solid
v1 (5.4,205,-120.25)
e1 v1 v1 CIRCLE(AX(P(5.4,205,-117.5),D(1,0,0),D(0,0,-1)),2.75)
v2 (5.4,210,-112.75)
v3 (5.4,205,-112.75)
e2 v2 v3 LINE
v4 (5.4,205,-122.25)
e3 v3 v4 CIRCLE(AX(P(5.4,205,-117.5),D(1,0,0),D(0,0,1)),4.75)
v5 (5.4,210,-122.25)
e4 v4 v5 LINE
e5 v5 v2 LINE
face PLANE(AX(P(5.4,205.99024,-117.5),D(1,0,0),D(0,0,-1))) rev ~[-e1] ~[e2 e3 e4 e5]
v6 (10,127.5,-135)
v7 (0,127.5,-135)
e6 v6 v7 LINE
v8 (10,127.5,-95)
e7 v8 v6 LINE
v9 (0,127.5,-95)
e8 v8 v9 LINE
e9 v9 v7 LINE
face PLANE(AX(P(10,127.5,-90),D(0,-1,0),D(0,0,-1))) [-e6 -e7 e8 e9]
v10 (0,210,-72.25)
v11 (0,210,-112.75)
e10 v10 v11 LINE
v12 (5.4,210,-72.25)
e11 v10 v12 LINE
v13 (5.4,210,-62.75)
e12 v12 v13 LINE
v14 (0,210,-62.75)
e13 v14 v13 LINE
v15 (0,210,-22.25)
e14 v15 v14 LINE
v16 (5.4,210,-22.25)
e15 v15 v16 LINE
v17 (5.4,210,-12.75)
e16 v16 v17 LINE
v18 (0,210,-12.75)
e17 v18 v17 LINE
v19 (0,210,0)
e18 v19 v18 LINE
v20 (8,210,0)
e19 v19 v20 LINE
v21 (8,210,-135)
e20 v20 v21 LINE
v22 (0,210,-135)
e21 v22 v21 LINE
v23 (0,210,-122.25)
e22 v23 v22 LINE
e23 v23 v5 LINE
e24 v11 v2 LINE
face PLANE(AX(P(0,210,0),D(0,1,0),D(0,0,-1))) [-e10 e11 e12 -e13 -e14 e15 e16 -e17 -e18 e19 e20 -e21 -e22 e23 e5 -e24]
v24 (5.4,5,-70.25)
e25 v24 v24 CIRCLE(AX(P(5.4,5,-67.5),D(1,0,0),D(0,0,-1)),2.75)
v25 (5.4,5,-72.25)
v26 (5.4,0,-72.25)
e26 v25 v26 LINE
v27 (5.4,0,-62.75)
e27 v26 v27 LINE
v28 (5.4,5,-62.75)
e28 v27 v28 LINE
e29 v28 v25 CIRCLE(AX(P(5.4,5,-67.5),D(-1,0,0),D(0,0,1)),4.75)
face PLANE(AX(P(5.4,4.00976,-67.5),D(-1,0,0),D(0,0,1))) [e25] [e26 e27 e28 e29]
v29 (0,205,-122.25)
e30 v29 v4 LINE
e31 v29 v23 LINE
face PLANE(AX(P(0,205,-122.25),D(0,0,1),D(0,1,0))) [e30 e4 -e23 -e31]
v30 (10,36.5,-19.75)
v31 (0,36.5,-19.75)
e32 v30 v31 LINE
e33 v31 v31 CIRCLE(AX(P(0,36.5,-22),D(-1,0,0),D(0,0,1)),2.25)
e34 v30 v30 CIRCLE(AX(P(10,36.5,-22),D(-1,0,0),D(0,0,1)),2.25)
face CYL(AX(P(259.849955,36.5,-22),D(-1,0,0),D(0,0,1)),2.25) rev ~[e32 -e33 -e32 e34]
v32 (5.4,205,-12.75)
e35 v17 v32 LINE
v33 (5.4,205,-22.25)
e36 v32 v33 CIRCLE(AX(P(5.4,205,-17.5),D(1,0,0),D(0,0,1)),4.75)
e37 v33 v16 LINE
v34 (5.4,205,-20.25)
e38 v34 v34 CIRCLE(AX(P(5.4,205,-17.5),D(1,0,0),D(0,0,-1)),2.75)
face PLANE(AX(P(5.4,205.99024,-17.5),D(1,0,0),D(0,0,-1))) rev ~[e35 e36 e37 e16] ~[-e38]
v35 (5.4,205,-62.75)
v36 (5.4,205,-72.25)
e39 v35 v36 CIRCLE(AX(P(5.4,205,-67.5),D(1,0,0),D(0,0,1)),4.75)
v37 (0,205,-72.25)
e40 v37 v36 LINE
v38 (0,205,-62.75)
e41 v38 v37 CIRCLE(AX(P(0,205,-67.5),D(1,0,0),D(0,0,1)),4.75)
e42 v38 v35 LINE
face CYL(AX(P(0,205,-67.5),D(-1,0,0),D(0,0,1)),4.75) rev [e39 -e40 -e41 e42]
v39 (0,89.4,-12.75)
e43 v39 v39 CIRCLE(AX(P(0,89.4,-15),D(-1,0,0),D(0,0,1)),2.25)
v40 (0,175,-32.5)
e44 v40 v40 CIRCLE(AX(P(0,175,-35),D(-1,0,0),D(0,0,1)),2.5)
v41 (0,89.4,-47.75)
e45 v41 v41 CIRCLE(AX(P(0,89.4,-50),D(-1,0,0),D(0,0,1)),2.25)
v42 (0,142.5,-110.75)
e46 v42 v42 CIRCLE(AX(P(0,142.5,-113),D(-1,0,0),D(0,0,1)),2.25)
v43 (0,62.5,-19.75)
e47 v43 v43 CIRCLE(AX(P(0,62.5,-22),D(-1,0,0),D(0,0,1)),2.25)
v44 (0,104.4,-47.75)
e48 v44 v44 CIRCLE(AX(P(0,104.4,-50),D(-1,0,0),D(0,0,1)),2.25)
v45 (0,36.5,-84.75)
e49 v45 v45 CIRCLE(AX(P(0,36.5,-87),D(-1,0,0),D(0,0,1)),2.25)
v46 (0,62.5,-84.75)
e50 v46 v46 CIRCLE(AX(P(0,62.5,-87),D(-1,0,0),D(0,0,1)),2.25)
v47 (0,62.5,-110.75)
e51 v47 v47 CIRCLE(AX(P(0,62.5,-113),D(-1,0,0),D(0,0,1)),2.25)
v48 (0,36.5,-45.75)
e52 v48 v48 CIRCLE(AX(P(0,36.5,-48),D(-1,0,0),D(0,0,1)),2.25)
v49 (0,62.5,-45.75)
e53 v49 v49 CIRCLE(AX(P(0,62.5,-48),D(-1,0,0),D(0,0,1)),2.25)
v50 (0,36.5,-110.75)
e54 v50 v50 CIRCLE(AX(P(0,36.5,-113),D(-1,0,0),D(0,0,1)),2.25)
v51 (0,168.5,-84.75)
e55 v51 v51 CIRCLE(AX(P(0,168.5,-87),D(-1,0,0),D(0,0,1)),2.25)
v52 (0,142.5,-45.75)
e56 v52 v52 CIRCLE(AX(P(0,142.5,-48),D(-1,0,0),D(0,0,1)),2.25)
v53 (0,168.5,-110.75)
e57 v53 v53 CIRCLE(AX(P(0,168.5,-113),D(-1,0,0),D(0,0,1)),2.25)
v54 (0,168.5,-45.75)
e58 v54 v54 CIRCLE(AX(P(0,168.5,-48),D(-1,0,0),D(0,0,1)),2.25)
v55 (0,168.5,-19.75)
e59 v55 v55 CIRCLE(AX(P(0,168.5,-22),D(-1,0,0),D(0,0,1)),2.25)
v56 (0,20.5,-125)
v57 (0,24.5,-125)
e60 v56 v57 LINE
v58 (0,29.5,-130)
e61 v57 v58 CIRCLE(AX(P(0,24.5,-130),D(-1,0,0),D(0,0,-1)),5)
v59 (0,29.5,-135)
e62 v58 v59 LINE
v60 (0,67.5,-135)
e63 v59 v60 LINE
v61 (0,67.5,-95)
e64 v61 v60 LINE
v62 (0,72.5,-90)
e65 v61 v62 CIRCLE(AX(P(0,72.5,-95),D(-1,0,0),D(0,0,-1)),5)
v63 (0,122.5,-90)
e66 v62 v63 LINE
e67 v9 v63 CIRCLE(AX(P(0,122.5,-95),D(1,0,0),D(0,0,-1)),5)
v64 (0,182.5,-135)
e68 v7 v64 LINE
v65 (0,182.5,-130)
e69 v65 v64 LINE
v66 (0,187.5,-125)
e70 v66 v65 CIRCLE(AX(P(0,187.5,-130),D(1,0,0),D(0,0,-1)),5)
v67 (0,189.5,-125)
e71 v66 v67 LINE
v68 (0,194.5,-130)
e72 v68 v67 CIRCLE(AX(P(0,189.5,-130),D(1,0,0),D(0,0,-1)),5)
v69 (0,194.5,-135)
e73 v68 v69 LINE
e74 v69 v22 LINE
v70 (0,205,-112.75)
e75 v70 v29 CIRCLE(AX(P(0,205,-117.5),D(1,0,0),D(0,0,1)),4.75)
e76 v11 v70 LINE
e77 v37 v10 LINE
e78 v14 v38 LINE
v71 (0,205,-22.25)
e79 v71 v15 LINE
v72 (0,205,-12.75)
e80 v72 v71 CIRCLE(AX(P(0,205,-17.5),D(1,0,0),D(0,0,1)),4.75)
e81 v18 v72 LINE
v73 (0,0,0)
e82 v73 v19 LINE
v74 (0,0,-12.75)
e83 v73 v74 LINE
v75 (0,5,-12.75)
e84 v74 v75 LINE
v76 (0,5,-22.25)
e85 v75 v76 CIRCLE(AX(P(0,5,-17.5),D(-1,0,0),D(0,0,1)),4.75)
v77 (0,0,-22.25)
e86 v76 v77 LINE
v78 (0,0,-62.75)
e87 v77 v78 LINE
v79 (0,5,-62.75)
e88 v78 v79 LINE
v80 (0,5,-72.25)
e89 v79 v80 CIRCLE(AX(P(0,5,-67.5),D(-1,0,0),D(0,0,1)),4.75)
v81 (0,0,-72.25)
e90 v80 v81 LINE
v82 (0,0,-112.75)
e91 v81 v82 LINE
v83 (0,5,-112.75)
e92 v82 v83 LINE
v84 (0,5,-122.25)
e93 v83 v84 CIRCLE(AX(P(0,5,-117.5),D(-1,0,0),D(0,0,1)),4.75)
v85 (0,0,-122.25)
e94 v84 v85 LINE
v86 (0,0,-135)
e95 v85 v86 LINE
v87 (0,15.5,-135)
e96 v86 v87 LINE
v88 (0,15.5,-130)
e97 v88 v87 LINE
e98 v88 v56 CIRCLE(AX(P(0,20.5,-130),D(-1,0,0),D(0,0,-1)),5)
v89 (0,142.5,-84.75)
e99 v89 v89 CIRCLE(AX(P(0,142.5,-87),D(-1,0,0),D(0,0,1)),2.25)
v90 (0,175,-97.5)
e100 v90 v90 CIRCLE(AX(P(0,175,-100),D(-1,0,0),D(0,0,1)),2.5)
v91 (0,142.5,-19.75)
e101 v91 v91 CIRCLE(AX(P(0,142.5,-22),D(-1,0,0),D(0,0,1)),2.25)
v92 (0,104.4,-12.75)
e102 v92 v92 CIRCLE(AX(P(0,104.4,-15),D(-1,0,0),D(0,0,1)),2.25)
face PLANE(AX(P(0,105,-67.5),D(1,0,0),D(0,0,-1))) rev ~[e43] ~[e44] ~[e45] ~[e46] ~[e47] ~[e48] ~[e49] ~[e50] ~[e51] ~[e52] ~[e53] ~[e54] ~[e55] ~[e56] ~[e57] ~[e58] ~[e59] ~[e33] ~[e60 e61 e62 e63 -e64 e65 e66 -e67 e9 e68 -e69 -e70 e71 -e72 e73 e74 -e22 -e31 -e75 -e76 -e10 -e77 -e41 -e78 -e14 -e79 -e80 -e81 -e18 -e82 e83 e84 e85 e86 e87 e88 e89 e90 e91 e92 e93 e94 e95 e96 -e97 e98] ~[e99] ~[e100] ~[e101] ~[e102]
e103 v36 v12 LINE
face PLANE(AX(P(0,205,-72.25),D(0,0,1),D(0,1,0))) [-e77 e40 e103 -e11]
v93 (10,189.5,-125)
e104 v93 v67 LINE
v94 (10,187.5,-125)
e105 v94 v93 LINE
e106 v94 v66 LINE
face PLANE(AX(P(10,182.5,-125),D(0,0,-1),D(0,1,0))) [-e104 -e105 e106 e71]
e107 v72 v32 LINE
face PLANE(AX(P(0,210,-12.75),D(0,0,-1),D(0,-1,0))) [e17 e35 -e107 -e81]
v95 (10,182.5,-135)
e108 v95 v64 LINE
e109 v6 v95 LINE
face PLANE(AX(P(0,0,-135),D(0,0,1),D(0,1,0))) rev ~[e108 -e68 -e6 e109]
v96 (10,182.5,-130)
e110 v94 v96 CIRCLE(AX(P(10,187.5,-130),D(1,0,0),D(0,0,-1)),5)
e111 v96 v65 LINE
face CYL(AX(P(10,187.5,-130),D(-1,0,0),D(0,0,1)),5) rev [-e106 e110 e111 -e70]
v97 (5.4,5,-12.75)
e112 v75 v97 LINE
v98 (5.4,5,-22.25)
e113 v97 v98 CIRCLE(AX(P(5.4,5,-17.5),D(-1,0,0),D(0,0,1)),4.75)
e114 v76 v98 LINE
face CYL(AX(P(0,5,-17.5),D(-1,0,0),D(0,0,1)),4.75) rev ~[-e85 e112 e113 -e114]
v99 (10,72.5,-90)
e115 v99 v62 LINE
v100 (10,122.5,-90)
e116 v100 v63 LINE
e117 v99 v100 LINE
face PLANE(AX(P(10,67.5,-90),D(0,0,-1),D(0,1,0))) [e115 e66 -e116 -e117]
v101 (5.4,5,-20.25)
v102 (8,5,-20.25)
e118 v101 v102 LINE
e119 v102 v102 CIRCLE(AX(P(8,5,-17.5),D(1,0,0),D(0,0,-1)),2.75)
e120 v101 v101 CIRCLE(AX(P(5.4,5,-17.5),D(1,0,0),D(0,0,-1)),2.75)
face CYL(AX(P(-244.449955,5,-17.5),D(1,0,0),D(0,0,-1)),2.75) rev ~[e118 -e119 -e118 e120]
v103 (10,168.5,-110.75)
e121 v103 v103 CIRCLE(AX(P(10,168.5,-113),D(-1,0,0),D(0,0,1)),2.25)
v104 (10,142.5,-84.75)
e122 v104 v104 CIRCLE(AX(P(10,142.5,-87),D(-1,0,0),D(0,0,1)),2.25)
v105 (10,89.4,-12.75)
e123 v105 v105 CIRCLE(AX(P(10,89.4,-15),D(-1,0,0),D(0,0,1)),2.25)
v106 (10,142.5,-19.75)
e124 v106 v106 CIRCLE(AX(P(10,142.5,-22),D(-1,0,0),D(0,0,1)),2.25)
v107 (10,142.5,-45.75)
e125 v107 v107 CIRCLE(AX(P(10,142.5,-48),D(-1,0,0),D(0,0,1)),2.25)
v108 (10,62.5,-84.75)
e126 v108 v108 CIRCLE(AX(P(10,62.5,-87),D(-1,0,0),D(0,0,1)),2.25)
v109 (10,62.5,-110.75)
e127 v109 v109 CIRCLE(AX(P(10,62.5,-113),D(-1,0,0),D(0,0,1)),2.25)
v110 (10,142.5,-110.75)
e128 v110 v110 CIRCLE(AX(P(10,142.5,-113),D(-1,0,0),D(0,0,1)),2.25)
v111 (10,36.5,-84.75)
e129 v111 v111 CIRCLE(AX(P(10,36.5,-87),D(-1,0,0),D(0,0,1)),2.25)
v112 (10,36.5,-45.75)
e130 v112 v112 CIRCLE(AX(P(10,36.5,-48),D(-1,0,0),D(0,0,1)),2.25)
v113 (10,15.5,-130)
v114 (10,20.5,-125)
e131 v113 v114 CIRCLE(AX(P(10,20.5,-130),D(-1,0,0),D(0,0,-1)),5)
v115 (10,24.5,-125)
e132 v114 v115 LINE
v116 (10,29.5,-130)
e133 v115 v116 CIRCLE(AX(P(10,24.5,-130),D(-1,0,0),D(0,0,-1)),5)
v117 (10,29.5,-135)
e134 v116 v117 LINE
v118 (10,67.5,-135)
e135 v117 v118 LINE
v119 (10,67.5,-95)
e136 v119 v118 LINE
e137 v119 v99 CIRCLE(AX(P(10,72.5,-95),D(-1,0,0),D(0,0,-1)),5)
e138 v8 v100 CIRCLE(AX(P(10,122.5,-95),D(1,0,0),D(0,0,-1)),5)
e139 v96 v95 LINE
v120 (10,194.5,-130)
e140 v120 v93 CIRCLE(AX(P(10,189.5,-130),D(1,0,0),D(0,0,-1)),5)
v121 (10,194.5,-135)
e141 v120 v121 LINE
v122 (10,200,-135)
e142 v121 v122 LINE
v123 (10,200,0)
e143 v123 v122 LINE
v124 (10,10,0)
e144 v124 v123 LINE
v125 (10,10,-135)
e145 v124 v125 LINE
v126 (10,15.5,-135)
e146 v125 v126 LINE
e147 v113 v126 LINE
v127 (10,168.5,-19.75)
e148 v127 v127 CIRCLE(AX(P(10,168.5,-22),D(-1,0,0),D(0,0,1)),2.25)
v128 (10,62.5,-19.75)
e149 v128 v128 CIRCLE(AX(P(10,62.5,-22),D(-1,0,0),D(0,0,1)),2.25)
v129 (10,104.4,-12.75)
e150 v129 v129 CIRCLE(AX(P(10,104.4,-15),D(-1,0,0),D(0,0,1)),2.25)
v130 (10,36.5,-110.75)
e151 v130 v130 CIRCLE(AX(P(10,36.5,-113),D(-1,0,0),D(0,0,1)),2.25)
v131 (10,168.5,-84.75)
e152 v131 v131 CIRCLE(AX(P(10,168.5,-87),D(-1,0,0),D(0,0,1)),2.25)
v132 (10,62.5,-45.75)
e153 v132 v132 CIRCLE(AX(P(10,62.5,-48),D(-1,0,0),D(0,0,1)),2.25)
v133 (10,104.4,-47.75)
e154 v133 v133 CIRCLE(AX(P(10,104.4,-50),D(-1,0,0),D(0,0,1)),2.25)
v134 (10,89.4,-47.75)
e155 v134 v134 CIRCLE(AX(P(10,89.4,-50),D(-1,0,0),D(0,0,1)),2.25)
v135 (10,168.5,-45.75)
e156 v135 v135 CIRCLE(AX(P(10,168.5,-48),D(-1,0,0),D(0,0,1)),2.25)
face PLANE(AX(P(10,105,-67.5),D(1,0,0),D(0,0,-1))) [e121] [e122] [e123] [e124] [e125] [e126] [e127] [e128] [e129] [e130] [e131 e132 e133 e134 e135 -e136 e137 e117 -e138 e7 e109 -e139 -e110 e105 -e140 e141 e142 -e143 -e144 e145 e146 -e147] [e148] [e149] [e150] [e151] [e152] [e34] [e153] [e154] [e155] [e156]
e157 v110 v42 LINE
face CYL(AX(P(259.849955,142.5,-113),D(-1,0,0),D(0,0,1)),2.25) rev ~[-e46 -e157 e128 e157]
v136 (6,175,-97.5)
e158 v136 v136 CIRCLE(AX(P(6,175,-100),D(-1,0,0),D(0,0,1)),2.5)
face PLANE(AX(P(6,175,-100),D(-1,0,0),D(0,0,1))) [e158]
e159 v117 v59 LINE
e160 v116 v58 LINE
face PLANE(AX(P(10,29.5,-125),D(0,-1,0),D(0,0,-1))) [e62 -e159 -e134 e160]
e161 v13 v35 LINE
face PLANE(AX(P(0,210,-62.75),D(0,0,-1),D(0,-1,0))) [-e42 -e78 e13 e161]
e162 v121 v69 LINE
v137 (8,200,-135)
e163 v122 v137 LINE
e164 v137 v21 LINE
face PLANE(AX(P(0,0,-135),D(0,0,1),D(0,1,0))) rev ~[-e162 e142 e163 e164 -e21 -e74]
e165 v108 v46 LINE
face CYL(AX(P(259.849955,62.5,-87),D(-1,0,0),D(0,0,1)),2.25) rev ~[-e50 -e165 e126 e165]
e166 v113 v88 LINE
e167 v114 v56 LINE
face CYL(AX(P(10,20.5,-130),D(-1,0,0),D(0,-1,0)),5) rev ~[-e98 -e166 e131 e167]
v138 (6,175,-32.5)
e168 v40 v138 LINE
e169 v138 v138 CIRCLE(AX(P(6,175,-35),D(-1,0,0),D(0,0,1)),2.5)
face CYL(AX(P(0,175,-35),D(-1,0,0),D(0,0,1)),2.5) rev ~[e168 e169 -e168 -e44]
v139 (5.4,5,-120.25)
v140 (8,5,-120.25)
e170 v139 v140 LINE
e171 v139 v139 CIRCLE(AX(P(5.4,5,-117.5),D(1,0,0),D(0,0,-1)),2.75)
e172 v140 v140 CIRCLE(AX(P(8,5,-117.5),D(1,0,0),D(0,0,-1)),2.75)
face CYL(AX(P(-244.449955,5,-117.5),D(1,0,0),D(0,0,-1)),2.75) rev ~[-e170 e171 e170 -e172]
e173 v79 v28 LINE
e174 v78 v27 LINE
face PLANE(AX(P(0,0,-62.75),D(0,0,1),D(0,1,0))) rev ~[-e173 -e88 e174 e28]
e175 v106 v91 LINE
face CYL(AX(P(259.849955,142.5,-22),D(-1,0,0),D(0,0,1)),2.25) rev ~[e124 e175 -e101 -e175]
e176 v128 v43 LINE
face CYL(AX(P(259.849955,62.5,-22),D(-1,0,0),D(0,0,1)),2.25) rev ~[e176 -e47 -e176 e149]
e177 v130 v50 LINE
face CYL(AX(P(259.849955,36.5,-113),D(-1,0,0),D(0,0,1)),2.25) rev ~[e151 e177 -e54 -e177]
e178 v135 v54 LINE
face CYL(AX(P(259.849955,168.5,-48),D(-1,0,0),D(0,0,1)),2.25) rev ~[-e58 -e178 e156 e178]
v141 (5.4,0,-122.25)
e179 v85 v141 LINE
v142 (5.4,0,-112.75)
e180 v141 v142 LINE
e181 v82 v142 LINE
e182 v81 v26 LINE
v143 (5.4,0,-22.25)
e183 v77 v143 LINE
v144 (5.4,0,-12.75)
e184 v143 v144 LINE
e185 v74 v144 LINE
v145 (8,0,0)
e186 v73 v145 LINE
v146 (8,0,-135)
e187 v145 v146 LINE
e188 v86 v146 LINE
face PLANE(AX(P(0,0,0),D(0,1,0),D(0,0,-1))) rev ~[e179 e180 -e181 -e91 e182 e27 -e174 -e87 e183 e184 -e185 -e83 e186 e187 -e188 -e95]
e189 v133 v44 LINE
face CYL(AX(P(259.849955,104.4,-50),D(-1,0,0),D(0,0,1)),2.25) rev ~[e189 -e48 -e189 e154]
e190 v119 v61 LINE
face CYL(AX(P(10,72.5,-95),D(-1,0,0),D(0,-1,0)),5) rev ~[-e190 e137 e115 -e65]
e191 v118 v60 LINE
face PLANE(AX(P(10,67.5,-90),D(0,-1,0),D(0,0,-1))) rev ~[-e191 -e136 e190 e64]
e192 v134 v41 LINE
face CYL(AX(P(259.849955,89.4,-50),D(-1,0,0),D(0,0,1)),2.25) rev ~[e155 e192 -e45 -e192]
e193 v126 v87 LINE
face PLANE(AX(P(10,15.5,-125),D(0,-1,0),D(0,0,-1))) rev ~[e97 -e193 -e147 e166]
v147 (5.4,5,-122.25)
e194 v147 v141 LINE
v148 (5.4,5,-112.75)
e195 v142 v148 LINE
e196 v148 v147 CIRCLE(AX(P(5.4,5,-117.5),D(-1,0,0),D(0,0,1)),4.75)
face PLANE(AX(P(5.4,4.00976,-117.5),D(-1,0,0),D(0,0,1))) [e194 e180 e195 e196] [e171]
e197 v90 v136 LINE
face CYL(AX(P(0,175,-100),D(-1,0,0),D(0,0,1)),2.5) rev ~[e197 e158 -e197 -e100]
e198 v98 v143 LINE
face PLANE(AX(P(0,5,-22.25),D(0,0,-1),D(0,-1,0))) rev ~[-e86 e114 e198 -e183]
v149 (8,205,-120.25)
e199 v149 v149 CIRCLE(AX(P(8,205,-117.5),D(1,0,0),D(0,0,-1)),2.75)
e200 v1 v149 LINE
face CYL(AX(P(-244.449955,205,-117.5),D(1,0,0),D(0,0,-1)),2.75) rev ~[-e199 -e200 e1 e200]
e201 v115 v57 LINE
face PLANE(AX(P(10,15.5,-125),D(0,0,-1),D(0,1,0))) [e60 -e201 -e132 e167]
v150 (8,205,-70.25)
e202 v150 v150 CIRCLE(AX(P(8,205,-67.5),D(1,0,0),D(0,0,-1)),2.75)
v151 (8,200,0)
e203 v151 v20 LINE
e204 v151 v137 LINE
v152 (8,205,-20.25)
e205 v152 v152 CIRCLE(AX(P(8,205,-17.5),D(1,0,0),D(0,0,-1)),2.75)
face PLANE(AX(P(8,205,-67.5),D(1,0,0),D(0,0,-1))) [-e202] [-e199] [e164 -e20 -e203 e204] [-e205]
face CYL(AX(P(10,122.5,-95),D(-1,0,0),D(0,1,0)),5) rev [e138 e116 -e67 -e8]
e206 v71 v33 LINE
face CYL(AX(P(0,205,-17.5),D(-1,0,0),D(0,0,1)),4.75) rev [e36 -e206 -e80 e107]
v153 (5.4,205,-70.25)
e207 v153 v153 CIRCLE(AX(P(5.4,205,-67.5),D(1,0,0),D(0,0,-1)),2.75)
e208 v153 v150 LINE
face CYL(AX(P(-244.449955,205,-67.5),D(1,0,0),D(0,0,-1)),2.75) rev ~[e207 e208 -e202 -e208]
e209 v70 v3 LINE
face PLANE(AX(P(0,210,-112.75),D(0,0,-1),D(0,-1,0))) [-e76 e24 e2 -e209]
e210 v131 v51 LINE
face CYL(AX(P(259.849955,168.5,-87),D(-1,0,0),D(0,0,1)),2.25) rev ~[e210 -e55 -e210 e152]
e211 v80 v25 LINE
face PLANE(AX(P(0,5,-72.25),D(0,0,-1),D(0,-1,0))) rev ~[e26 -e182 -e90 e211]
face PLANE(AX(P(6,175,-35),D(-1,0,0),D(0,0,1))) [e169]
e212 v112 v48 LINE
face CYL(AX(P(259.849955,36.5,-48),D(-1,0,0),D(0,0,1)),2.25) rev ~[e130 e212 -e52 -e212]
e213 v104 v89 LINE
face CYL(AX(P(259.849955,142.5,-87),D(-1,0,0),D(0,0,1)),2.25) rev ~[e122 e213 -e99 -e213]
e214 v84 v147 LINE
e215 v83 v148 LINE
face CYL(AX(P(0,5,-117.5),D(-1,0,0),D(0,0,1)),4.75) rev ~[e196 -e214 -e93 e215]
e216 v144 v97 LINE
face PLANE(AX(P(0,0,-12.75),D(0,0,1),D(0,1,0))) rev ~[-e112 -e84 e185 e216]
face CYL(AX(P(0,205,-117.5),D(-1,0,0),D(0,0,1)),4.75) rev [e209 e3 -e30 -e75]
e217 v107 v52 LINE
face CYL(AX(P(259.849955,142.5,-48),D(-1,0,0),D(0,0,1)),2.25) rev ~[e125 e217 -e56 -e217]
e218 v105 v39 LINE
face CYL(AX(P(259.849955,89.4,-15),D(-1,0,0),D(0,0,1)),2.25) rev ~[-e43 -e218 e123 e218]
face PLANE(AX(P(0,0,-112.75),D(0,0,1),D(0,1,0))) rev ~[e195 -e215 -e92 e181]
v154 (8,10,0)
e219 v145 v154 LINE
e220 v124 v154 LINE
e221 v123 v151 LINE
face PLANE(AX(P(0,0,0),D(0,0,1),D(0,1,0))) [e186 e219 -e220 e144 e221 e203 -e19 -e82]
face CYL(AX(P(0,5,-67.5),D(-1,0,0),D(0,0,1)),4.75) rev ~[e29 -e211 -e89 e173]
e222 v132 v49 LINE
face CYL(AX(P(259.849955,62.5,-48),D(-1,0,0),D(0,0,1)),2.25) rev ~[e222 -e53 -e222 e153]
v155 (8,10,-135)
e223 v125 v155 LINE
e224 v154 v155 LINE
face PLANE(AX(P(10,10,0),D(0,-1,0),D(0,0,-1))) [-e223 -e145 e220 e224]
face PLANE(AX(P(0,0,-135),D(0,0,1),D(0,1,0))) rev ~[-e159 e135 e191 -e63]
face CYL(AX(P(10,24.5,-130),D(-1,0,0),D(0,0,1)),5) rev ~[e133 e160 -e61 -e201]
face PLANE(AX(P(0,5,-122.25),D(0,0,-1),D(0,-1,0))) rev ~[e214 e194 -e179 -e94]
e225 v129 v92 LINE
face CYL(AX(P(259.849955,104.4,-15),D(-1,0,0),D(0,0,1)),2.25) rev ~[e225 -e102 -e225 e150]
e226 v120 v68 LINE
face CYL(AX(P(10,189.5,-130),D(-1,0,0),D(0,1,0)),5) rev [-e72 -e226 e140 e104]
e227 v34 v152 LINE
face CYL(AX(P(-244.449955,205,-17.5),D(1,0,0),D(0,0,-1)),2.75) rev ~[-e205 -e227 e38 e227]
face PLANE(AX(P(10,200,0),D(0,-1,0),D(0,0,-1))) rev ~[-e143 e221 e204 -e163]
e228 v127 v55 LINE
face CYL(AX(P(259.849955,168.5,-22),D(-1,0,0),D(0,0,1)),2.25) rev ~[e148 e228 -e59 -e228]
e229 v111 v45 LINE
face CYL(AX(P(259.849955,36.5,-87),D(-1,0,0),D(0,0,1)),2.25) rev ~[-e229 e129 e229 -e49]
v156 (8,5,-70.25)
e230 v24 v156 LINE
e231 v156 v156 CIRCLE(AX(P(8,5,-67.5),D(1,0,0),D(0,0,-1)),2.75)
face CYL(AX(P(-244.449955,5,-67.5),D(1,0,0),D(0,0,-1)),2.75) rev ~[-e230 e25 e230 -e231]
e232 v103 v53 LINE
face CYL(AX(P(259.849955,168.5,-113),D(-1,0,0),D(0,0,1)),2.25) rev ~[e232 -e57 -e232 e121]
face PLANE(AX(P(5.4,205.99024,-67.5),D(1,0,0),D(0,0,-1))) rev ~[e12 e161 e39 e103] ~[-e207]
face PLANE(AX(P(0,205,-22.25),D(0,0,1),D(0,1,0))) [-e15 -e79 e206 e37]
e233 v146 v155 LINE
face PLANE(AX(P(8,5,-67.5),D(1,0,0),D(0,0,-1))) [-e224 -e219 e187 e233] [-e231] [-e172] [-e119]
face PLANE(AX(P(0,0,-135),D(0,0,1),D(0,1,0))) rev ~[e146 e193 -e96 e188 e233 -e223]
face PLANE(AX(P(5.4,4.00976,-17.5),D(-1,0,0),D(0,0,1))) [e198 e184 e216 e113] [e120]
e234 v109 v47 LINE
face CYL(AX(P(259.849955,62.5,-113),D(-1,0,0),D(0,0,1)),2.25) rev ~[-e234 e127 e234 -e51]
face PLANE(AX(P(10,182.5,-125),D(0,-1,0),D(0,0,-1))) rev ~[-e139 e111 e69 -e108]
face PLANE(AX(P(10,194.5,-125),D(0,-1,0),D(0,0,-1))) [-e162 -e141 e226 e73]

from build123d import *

# Parameters (mm, degrees)
SKETCH1_W                  = 135
SKETCH1_H                  = 210
BOSS_EXTRUDE1_DEPTH        = 10
SKETCH2_W                  = 45
SKETCH2_H                  = 60
CUT_EXTRUDE1_DEPTH         = 11
SKETCH3_W                  = 10
SKETCH3_H                  = 14
SKETCH3_H_2                = 12
CUT_EXTRUDE2_DEPTH         = 11
SKETCH4_W                  = 135
SKETCH4_H                  = 10
CUT_EXTRUDE3_DEPTH         = 2
SKETCH5_R                  = 2.5
CUT_EXTRUDE4_DEPTH         = 6
CUT_EXTRUDE5_DEPTH         = 5.4
LPATTERN1_COUNT            = 3
LPATTERN1_PITCH            = 50
F_5_5_5_5_DIAMETER_HOLE1_D = 5.5
LPATTERN3_COUNT            = 3
LPATTERN3_PITCH            = 50
F_4_5_4_5_DIAMETER_HOLE1_D = 4.5
F_4_5_4_5_DIAMETER_HOLE2_D = 4.5
LPATTERN2_COUNT            = 2
LPATTERN2_PITCH            = 65
LPATTERN2_COUNT_DIR2       = 2
LPATTERN2_PITCH_DIR2       = 106
FILLET1_R                  = 5


with BuildPart() as part:
    # Sketch1 → Boss-Extrude1 (new body)
    with BuildSketch(Plane(origin=(0, 0, 0), x_dir=(0, 0, -1), z_dir=(1, 0, 0))):
        with Locations((67.5, 105)):
            Rectangle(SKETCH1_W, SKETCH1_H)
    extrude(amount=BOSS_EXTRUDE1_DEPTH)

    # Sketch2 → Cut-Extrude1 (cut, through all)
    with BuildSketch(Plane(origin=(10, 0, 0), x_dir=(0, 0, -1), z_dir=(1, 0, 0))):
        with Locations((112.5, 97.5)):
            Rectangle(SKETCH2_W, SKETCH2_H)
    extrude(amount=-CUT_EXTRUDE1_DEPTH, mode=Mode.SUBTRACT)

    # Sketch3 → Cut-Extrude2 (cut, through all)
    with BuildSketch(Plane(origin=(10, 0, 0), x_dir=(0, 0, -1), z_dir=(1, 0, 0))):
        with Locations((130, 22.5)):
            Rectangle(SKETCH3_W, SKETCH3_H)
        with Locations((130, 188.5)):
            Rectangle(SKETCH3_W, SKETCH3_H_2)
    extrude(amount=-CUT_EXTRUDE2_DEPTH, mode=Mode.SUBTRACT)

    # Sketch4 → Cut-Extrude3 (cut)
    with BuildSketch(Plane(origin=(10, 0, 0), x_dir=(0, 0, -1), z_dir=(1, 0, 0))):
        with Locations((67.5, 5)):
            Rectangle(SKETCH4_W, SKETCH4_H)
        with Locations((67.5, 205)):
            Rectangle(SKETCH4_W, SKETCH4_H)
    extrude(amount=-CUT_EXTRUDE3_DEPTH, mode=Mode.SUBTRACT)

    # Sketch5 → Cut-Extrude4 (cut)
    with BuildSketch(Plane.ZY):
        with Locations((-35, 175)):
            Circle(SKETCH5_R)
        with Locations((-100, 175)):
            Circle(SKETCH5_R)
    extrude(amount=-CUT_EXTRUDE4_DEPTH, mode=Mode.SUBTRACT)

    # Sketch6 → Cut-Extrude5 (cut)
    with BuildSketch(Plane.ZY):
        with BuildLine():
            Line((-22.25, 5), (-22.25, 0))
            Line((-22.25, 0), (-12.75, 0))
            Line((-12.75, 0), (-12.75, 5))
            ThreePointArc((-12.75, 5), (-17.5, 9.75), (-22.25, 5))
        make_face()
        with BuildLine():
            Line((-22.25, 205), (-22.25, 210))
            Line((-22.25, 210), (-12.75, 210))
            Line((-12.75, 210), (-12.75, 205))
            ThreePointArc((-12.75, 205), (-17.5, 200.25), (-22.25, 205))
        make_face()
    cut_extrude5 = extrude(amount=-CUT_EXTRUDE5_DEPTH, mode=Mode.SUBTRACT)

    # LPattern1: Cut-Extrude5 ×3
    with Locations(*[(0, 0, -i * LPATTERN1_PITCH) for i in range(1, LPATTERN1_COUNT)]):
        add(cut_extrude5, mode=Mode.SUBTRACT)

    # Ø5.5 (5.5) Diameter Hole1 (through all)
    with Locations(Plane.ZY.offset(-5.4)):
        with Locations((-17.5, 205), (-17.5, 5)):
            f_5_5_5_5_diameter_hole1 = Hole(F_5_5_5_5_DIAMETER_HOLE1_D / 2)

    # LPattern3: Ø5.5 (5.5) Diameter Hole1 ×3
    with Locations(*[(0, 0, -i * LPATTERN3_PITCH) for i in range(1, LPATTERN3_COUNT)]):
        add(f_5_5_5_5_diameter_hole1, mode=Mode.SUBTRACT)

    # Ø4.5 (4.5) Diameter Hole1 (through all)
    with Locations(Plane(origin=(10, 0, 0), x_dir=(0, 0, -1), z_dir=(1, 0, 0))):
        with Locations((15, 104.4), (50, 104.4), (15, 89.4), (50, 89.4)):
            Hole(F_4_5_4_5_DIAMETER_HOLE1_D / 2)

    # Ø4.5 (4.5) Diameter Hole2 (through all)
    with Locations(Plane(origin=(10, 0, 0), x_dir=(0, 0, -1), z_dir=(1, 0, 0))):
        with Locations((22, 36.5), (22, 62.5), (48, 62.5), (48, 36.5)):
            f_4_5_4_5_diameter_hole2 = Hole(F_4_5_4_5_DIAMETER_HOLE2_D / 2)

    # LPattern2: 4.5 _4.5_ Diameter Hole2 2 × 2
    with Locations(*[(0, j * LPATTERN2_PITCH_DIR2, -i * LPATTERN2_PITCH) for i in range(LPATTERN2_COUNT) for j in range(LPATTERN2_COUNT_DIR2) if (i, j) != (0, 0)]):
        add(f_4_5_4_5_diameter_hole2, mode=Mode.SUBTRACT)

    # Fillet1
    fillet1_edges = [part.edges().sort_by_distance(p)[0] for p in [
        (5, 67.5, -90),
        (5, 127.5, -90),
        (5, 15.5, -125),
        (5, 29.5, -125),
        (5, 182.5, -125),
        (5, 194.5, -125),
    ]]
    fillet(fillet1_edges, radius=FILLET1_R)


solid = part.part
